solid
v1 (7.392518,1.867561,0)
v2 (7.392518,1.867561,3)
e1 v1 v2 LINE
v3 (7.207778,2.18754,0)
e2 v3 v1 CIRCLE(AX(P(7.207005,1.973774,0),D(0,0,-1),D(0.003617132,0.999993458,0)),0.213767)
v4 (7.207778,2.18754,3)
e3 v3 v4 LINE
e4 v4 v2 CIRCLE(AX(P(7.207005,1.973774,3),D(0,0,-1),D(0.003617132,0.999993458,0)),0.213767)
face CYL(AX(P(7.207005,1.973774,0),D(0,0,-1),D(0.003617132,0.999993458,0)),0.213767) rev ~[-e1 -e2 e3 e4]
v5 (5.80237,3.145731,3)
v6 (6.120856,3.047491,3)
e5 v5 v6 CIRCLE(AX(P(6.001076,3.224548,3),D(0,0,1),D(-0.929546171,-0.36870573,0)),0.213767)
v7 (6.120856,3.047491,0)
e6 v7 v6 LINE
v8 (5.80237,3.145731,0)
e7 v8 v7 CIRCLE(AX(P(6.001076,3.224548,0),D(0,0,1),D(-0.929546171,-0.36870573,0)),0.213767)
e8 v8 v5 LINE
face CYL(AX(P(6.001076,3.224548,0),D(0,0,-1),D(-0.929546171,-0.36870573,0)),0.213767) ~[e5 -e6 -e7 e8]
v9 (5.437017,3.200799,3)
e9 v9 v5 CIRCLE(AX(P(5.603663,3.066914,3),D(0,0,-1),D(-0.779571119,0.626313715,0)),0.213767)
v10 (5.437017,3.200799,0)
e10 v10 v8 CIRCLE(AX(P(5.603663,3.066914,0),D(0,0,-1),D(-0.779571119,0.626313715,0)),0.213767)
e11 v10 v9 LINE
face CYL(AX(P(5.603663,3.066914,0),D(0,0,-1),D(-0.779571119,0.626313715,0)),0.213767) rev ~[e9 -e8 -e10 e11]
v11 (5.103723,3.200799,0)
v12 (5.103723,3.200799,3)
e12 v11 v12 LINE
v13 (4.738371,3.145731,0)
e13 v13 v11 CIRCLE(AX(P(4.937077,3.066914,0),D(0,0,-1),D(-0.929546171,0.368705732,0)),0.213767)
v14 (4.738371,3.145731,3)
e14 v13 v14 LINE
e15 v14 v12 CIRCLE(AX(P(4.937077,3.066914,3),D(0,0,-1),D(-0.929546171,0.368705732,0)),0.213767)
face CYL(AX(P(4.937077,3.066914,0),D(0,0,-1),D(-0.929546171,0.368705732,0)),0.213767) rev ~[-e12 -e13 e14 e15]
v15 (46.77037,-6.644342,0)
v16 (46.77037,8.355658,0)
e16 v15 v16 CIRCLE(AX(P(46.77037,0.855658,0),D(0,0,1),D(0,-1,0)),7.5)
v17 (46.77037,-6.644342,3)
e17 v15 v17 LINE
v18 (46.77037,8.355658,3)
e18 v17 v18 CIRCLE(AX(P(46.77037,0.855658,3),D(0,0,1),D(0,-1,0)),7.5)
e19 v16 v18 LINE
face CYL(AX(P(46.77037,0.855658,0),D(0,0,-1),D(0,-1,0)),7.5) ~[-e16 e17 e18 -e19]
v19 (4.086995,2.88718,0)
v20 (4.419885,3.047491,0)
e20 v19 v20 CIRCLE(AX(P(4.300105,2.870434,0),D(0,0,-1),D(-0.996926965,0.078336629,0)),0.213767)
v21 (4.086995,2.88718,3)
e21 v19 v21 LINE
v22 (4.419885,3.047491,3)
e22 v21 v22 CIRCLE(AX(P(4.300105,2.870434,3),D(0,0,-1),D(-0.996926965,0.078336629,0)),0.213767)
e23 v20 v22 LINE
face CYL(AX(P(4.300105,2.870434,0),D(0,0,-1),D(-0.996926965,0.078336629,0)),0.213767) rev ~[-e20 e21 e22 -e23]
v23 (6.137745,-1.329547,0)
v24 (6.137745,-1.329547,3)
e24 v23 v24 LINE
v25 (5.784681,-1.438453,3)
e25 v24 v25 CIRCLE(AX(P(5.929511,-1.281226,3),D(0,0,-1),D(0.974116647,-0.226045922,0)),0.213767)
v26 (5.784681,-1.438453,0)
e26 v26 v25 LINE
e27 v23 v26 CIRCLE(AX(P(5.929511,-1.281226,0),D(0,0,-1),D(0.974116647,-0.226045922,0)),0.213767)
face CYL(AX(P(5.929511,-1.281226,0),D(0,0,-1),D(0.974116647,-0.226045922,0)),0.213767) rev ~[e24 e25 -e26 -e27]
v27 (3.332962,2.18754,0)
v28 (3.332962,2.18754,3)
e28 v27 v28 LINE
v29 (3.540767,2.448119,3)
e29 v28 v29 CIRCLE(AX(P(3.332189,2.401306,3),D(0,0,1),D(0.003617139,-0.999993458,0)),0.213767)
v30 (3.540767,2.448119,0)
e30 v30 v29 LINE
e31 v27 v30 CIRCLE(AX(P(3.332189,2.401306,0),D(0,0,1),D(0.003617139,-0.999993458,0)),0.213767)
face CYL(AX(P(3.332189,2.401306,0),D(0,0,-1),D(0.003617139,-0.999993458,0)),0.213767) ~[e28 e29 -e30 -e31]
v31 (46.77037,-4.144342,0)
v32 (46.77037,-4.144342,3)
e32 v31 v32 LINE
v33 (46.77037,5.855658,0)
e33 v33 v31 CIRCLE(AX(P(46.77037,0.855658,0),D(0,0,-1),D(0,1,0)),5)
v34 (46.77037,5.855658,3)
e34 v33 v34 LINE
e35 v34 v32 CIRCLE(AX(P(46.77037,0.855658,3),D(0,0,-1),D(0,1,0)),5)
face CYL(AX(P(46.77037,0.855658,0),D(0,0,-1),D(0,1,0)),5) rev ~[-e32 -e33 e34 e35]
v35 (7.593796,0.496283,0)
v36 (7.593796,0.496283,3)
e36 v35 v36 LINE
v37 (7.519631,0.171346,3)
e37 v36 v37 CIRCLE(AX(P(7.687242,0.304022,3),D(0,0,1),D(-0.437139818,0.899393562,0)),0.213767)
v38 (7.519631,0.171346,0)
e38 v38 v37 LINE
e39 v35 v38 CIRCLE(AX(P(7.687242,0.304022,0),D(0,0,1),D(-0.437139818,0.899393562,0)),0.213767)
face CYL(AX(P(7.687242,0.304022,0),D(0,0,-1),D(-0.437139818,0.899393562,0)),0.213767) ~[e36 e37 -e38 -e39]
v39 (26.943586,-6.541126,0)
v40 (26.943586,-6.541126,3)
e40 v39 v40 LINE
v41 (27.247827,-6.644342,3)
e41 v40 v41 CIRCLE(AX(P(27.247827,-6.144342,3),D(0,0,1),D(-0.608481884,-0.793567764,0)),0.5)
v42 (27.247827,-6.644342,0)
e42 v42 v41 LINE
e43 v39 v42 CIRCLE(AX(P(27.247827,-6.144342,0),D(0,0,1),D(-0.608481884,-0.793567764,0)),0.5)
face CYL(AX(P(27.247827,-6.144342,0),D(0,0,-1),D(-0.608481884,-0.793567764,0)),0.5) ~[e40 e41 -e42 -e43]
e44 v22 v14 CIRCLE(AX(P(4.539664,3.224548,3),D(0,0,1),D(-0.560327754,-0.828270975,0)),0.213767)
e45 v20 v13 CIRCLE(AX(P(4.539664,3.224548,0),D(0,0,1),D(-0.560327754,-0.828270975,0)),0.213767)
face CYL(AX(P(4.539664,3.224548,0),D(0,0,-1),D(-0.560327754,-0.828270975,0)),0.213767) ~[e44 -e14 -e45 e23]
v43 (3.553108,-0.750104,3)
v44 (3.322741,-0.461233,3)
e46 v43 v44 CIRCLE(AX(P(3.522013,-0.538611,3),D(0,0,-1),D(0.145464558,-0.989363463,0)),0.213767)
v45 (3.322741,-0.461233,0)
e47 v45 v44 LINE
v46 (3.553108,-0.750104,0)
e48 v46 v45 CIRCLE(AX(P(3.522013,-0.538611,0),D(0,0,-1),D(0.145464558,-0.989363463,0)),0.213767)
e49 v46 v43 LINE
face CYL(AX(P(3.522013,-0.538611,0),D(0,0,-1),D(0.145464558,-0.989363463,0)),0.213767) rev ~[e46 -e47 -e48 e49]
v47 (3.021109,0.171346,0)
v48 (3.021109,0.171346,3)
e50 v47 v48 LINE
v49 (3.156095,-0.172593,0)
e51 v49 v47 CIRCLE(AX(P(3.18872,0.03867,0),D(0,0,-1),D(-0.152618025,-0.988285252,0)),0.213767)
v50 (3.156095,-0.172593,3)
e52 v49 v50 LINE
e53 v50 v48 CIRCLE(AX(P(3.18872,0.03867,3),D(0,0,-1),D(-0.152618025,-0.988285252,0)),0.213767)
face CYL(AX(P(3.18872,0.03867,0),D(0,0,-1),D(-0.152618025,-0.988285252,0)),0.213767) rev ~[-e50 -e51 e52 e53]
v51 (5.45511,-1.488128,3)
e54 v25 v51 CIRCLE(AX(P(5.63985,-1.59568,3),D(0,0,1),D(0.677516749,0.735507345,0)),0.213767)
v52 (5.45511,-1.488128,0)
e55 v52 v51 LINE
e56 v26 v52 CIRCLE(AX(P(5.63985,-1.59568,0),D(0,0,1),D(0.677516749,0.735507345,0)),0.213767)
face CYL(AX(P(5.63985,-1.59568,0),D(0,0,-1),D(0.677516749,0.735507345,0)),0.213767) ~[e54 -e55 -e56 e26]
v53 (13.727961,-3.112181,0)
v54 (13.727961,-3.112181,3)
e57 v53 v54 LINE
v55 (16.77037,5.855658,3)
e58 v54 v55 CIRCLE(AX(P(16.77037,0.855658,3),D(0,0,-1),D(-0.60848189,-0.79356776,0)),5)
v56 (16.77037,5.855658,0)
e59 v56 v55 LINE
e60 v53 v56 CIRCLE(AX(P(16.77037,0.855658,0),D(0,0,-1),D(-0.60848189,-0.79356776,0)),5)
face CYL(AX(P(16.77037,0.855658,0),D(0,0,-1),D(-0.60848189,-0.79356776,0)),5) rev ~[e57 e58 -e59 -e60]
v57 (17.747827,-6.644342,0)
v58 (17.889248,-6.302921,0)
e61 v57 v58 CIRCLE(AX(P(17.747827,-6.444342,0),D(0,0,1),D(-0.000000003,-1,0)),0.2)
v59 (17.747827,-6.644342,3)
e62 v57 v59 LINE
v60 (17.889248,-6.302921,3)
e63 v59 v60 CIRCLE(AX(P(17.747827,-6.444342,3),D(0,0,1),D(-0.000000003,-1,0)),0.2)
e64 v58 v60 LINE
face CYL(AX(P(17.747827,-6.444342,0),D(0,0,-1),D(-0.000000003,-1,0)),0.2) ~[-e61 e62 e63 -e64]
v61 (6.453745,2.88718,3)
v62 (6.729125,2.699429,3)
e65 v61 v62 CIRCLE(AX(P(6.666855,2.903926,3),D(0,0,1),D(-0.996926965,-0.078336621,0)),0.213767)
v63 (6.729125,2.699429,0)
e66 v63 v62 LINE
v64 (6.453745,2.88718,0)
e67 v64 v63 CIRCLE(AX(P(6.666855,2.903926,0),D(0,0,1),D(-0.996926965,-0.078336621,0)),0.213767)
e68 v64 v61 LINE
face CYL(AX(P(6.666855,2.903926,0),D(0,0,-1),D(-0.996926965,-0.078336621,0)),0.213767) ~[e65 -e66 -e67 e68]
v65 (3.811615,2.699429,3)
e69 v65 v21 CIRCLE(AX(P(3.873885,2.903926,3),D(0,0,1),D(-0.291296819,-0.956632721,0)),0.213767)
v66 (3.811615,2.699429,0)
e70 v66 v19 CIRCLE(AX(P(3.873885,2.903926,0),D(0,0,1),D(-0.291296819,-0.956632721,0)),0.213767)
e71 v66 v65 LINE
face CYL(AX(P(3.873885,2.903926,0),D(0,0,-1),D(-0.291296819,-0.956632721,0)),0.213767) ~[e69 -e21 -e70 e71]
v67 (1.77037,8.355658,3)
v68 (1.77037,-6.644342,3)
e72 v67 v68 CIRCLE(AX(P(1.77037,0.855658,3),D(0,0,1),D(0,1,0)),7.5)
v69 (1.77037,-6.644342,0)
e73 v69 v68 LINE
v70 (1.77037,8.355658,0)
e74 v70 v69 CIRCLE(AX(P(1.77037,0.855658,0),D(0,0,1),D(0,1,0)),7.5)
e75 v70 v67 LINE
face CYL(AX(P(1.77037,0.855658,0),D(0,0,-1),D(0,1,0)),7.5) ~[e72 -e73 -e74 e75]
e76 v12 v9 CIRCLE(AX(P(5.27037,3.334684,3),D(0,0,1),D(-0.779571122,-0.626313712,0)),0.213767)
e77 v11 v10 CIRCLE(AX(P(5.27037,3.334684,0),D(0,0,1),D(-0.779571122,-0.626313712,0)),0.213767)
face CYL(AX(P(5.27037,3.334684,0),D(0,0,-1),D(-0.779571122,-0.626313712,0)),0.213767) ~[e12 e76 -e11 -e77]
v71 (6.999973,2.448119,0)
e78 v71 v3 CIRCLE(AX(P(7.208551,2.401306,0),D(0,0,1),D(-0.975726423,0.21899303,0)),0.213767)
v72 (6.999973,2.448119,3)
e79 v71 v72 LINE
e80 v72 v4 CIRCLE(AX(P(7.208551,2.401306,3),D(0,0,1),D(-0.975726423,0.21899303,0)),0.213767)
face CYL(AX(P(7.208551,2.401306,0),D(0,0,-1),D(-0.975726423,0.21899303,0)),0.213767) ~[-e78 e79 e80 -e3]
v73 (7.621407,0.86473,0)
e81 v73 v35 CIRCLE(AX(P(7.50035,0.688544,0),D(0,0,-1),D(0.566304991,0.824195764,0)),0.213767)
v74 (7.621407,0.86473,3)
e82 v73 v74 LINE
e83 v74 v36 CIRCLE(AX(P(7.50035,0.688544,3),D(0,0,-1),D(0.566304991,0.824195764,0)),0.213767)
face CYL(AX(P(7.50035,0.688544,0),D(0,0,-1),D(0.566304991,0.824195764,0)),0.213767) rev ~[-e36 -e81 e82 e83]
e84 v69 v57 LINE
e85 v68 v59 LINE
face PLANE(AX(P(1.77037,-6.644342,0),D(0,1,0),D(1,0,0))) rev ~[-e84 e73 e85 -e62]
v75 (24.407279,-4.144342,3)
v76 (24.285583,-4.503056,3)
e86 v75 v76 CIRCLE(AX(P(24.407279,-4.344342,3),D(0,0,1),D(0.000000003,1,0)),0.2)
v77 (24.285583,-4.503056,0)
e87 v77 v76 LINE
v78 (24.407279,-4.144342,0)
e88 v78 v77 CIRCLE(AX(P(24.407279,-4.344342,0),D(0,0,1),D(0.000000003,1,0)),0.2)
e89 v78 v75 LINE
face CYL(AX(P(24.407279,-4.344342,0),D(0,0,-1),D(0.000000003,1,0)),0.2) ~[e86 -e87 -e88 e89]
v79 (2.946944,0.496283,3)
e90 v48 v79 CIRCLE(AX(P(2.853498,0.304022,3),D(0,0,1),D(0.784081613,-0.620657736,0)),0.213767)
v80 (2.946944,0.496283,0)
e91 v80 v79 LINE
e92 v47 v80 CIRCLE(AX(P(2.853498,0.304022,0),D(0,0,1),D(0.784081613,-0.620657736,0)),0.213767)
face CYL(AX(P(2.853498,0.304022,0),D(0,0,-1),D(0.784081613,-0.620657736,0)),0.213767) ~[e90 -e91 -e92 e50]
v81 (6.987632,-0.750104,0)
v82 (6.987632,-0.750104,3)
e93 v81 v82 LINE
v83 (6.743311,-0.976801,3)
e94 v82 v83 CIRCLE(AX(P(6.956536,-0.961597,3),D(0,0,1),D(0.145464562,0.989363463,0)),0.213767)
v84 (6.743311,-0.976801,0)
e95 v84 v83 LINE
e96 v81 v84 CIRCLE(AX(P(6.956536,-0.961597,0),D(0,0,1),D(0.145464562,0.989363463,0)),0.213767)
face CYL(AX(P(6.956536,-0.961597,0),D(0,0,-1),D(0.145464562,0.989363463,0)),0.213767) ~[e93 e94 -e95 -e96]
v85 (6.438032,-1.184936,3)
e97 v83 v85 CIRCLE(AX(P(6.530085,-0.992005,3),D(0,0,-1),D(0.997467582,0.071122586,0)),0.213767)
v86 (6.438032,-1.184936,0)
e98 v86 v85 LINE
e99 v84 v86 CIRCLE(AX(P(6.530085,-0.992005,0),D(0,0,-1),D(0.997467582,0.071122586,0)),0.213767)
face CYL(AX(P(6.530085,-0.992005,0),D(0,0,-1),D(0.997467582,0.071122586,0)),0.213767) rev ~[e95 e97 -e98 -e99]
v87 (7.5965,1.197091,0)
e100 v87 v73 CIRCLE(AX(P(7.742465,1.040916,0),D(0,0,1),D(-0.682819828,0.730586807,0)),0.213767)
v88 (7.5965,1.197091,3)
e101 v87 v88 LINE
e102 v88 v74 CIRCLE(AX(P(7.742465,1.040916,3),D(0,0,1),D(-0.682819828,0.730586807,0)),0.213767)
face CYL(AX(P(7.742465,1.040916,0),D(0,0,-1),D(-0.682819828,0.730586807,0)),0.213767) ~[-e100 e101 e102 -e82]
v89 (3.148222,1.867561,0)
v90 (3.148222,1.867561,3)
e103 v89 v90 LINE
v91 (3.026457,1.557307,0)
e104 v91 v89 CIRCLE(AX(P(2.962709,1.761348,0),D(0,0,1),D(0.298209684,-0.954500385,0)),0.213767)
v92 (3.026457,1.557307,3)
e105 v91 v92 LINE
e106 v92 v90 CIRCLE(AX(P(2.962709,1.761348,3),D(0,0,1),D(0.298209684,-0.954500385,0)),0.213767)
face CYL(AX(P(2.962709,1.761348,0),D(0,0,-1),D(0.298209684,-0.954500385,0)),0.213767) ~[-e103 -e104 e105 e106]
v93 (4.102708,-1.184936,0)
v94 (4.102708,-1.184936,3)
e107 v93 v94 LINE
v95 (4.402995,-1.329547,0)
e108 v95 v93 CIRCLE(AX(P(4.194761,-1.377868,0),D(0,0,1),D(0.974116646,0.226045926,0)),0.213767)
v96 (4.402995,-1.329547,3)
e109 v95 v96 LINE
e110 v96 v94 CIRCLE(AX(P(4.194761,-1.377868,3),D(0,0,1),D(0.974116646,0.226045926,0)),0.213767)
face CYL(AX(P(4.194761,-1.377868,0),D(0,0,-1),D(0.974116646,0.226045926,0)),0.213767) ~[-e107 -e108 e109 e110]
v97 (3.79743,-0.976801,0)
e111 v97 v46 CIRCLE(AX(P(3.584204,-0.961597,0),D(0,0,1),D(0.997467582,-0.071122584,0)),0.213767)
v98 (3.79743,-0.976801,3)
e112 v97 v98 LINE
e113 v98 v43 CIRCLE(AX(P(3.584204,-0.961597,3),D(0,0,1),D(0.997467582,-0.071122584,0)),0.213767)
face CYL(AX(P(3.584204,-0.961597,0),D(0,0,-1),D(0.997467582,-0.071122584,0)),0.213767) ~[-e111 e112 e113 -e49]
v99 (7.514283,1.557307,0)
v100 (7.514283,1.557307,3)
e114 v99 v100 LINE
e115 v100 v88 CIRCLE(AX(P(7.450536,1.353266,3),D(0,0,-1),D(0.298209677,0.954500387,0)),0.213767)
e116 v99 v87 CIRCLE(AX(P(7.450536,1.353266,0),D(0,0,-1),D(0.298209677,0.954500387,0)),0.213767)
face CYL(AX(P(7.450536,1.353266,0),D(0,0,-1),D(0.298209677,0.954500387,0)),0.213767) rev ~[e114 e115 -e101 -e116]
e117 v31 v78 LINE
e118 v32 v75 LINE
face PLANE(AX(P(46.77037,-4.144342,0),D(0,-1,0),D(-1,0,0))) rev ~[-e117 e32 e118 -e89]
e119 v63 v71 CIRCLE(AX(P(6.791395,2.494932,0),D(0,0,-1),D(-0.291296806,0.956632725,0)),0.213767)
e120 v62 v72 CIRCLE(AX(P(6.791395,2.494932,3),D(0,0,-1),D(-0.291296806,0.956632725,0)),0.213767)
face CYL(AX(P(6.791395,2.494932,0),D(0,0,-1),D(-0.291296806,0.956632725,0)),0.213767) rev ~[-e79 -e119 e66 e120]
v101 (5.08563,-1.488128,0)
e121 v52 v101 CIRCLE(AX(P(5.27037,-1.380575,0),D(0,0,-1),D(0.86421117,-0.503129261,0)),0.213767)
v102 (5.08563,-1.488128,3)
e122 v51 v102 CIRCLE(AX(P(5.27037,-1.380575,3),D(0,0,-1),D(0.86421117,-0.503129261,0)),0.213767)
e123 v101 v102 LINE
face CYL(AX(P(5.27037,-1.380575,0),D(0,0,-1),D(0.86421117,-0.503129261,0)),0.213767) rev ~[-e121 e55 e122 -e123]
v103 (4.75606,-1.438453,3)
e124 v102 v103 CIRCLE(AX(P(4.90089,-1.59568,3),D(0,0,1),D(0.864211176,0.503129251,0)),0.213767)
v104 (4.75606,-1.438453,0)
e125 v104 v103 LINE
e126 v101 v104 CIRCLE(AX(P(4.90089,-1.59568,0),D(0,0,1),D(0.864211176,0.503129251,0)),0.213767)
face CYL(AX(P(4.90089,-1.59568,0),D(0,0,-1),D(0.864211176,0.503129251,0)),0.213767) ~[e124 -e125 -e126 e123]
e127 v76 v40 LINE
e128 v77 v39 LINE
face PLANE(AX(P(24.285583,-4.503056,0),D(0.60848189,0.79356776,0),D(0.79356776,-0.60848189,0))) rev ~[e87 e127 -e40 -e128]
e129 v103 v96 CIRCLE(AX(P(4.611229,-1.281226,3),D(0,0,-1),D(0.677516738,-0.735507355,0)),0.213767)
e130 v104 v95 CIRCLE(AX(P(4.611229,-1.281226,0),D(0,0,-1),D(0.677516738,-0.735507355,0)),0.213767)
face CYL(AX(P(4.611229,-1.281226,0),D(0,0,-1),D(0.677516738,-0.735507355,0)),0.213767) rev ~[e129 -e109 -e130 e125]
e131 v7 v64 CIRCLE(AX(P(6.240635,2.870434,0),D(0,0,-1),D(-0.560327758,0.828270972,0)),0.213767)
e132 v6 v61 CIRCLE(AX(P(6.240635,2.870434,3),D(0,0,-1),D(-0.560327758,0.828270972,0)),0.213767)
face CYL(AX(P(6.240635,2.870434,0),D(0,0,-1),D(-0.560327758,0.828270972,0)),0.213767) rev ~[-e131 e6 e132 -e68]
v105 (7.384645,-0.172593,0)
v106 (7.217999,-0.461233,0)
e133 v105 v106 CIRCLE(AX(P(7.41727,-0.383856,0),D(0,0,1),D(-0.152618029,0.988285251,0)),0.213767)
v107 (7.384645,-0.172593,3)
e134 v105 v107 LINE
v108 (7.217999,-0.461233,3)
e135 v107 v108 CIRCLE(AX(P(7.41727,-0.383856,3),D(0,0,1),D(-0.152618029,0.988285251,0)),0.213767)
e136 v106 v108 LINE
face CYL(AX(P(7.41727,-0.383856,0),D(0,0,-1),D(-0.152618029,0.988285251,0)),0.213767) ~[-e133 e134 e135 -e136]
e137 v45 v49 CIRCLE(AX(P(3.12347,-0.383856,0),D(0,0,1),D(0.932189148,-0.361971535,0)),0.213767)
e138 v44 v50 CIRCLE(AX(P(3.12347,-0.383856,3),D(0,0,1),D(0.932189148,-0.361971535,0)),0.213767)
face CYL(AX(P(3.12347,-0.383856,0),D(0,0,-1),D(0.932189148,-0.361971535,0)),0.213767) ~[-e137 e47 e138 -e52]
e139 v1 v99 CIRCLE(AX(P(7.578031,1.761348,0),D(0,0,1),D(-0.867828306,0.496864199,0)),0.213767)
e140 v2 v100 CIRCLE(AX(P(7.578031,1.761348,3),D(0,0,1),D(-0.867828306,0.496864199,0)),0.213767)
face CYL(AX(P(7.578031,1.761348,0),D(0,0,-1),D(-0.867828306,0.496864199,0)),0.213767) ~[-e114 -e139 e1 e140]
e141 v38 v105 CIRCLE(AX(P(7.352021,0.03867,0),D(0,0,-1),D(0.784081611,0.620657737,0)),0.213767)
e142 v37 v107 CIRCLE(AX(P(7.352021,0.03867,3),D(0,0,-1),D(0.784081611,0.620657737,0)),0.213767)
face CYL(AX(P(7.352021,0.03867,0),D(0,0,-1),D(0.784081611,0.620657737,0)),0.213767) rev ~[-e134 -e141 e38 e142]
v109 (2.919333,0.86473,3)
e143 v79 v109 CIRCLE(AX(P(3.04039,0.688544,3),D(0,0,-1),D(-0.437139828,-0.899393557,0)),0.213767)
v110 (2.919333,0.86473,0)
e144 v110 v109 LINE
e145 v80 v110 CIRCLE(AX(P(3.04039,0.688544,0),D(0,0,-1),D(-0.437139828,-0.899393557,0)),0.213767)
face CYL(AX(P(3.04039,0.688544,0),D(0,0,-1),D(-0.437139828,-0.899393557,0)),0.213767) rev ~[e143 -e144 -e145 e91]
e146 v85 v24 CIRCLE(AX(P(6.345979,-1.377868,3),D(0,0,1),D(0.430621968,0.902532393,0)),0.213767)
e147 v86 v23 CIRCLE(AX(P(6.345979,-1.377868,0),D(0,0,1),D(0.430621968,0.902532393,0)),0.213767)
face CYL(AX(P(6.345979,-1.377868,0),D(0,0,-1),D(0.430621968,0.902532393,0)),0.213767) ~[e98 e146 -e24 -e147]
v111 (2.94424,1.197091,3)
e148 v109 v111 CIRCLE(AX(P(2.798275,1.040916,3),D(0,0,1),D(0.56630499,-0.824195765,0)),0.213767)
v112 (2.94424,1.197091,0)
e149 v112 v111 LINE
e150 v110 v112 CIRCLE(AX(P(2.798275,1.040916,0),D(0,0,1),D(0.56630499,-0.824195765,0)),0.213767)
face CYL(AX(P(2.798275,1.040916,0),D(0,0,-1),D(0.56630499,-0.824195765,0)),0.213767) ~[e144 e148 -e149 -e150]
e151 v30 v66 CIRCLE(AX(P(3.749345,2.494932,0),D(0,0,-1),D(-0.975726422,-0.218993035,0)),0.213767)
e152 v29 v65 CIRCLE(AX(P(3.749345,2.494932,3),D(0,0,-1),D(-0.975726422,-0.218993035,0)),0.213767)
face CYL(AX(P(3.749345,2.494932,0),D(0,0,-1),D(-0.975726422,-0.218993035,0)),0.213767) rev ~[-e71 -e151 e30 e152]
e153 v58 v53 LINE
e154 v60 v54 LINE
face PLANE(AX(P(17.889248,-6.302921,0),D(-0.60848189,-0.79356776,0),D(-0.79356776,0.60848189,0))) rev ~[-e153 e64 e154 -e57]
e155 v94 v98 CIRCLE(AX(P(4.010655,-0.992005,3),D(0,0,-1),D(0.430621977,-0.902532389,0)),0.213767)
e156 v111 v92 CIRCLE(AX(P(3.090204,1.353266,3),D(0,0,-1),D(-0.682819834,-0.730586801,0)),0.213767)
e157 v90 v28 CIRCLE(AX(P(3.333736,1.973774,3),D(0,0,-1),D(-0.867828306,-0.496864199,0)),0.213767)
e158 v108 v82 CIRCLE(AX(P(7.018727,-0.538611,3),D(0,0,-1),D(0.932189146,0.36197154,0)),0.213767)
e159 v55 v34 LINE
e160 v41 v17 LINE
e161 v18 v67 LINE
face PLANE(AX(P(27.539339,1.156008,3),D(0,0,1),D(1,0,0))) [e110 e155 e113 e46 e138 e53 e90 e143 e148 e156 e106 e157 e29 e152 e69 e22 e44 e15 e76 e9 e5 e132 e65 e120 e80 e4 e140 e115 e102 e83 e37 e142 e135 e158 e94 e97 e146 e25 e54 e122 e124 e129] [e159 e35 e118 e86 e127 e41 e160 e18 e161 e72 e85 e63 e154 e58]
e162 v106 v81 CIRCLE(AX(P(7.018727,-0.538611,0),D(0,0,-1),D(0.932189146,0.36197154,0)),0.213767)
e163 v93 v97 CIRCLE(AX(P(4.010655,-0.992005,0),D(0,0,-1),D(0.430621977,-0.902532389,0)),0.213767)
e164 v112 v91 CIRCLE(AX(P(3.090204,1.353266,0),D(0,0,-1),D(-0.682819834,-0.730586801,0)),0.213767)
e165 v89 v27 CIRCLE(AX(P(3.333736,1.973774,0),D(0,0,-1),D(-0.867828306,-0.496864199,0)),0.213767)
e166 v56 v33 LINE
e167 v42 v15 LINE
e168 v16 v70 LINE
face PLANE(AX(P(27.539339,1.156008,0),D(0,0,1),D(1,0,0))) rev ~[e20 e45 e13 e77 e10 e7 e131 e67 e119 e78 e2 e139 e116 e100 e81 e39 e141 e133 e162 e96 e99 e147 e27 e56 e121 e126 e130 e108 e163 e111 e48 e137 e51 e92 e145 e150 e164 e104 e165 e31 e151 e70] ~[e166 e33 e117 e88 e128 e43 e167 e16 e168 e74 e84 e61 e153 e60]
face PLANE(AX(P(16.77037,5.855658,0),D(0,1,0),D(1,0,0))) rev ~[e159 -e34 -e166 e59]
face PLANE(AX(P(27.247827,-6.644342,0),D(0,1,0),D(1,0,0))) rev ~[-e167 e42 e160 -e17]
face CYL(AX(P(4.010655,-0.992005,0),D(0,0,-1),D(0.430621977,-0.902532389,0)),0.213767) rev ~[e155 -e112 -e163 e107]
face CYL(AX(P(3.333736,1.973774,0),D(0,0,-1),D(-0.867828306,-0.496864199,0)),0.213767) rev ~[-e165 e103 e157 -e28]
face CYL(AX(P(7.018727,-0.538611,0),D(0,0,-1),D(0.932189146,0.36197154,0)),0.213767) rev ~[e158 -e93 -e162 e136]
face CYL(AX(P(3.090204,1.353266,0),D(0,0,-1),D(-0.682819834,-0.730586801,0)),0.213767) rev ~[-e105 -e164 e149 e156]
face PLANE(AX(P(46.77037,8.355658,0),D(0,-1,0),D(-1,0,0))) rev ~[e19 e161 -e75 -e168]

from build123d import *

# Parameters (mm, degrees)
BOSS_EXTRUDE1_DEPTH = 3


with BuildPart() as part:
    # Sketch2 → Boss-Extrude1 (new body)
    with BuildSketch(Plane.XY):
        with BuildLine():
            ThreePointArc((13.72796065, -3.112181063), (12.035436414, 2.462021021), (16.770370099, 5.855657737))
            Line((16.770370099, 5.855657737), (46.770370099, 5.855657737))
            ThreePointArc((46.770370099, 5.855657737), (51.770370099, 0.855657737), (46.770370099, -4.144342263))
            Line((46.770370099, -4.144342263), (24.407279181, -4.144342263))
            ThreePointArc((24.407279181, -4.144342263), (24.217881833, -4.280087732), (24.285582803, -4.503055815))
            Line((24.285582803, -4.503055815), (26.943586158, -6.541126143))
            ThreePointArc((26.943586158, -6.541126143), (27.087190775, -6.617835631), (27.247827103, -6.644342263))
            Line((27.247827103, -6.644342263), (46.770370099, -6.644342263))
            ThreePointArc((46.770370099, -6.644342263), (54.270370099, 0.855657737), (46.770370099, 8.355657737))
            Line((46.770370099, 8.355657737), (1.770370099, 8.355657737))
            ThreePointArc((1.770370099, 8.355657737), (-5.729629901, 0.855657737), (1.770370099, -6.644342263))
            Line((1.770370099, -6.644342263), (17.747827103, -6.644342263))
            ThreePointArc((17.747827103, -6.644342263), (17.93260301, -6.520878949), (17.889248459, -6.302920907))
            Line((17.889248459, -6.302920907), (13.72796065, -3.112181063))
        make_face()
        with BuildLine():
            ThreePointArc((5.103723485, 3.20079905), (5.270370099, 3.120917237), (5.437016713, 3.20079905))
            ThreePointArc((5.437016713, 3.20079905), (5.635523651, 3.278293261), (5.802369663, 3.145730953))
            ThreePointArc((5.802369663, 3.145730953), (5.938067058, 3.020278113), (6.120855608, 3.047491049))
            ThreePointArc((6.120855608, 3.047491049), (6.33338526, 3.063031463), (6.453745345, 2.887179801))
            ThreePointArc((6.453745345, 2.887179801), (6.546436212, 2.727302969), (6.729125133, 2.699429041))
            ThreePointArc((6.729125133, 2.699429041), (6.936793306, 2.651634823), (6.999972944, 2.448118998))
            ThreePointArc((6.999972944, 2.448118998), (7.041421292, 2.268023934), (7.207777872, 2.18753986))
            ThreePointArc((7.207777872, 2.18753986), (7.392132338, 2.080657737), (7.392517739, 1.867561025))
            ThreePointArc((7.392517739, 1.867561025), (7.379040701, 1.683249963), (7.514283428, 1.557307108))
            ThreePointArc((7.514283428, 1.557307108), (7.658943484, 1.400834025), (7.596500404, 1.197091003))
            ThreePointArc((7.596500404, 1.197091003), (7.529295473, 1.024940791), (7.621407438, 0.864729731))
            ThreePointArc((7.621407438, 0.864729731), (7.713519402, 0.672569008), (7.593796183, 0.496283137))
            ThreePointArc((7.593796183, 0.496283137), (7.478834813, 0.351590078), (7.519631462, 0.171346267))
            ThreePointArc((7.519631462, 0.171346267), (7.551010783, -0.039427773), (7.384645358, -0.172592718))
            ThreePointArc((7.384645358, -0.172592718), (7.232142372, -0.276972013), (7.217998744, -0.46123312))
            ThreePointArc((7.217998744, -0.46123312), (7.185857231, -0.671892277), (6.987631898, -0.750104008))
            ThreePointArc((6.987631898, -0.750104008), (6.811137854, -0.804894979), (6.743310674, -0.976800975))
            ThreePointArc((6.743310674, -0.976800975), (6.650504241, -1.16862726), (6.438032191, -1.18493632))
            ThreePointArc((6.438032191, -1.18493632), (6.253229361, -1.18527055), (6.137745369, -1.329546832))
            ThreePointArc((6.137745369, -1.329546832), (5.992520276, -1.485495637), (5.784680583, -1.438452896))
            ThreePointArc((5.784680583, -1.438452896), (5.607989508, -1.384300685), (5.455109966, -1.488127674))
            ThreePointArc((5.455109966, -1.488127674), (5.270370099, -1.594342263), (5.085630232, -1.488127674))
            ThreePointArc((5.085630232, -1.488127674), (4.93275069, -1.384300685), (4.756059614, -1.438452896))
            ThreePointArc((4.756059614, -1.438452896), (4.548219922, -1.485495637), (4.402994828, -1.329546832))
            ThreePointArc((4.402994828, -1.329546832), (4.287510837, -1.18527055), (4.102708006, -1.18493632))
            ThreePointArc((4.102708006, -1.18493632), (3.890235957, -1.16862726), (3.797429524, -0.976800975))
            ThreePointArc((3.797429524, -0.976800975), (3.729602343, -0.804894979), (3.5531083, -0.750104008))
            ThreePointArc((3.5531083, -0.750104008), (3.354882967, -0.671892277), (3.322741454, -0.46123312))
            ThreePointArc((3.322741454, -0.46123312), (3.308597826, -0.276972013), (3.15609484, -0.172592718))
            ThreePointArc((3.15609484, -0.172592718), (2.989729415, -0.039427773), (3.021108735, 0.171346267))
            ThreePointArc((3.021108735, 0.171346267), (3.061905384, 0.351590078), (2.946944015, 0.496283137))
            ThreePointArc((2.946944015, 0.496283137), (2.827220796, 0.672569008), (2.91933276, 0.864729731))
            ThreePointArc((2.91933276, 0.864729731), (3.011444724, 1.024940791), (2.944239794, 1.197091003))
            ThreePointArc((2.944239794, 1.197091003), (2.881796714, 1.400834025), (3.02645677, 1.557307108))
            ThreePointArc((3.02645677, 1.557307108), (3.161699497, 1.683249963), (3.148222459, 1.867561025))
            ThreePointArc((3.148222459, 1.867561025), (3.14860786, 2.080657737), (3.332962326, 2.18753986))
            ThreePointArc((3.332962326, 2.18753986), (3.499318906, 2.268023934), (3.540767254, 2.448118998))
            ThreePointArc((3.540767254, 2.448118998), (3.603946891, 2.651634823), (3.811615065, 2.699429041))
            ThreePointArc((3.811615065, 2.699429041), (3.994303986, 2.727302969), (4.086994852, 2.887179801))
            ThreePointArc((4.086994852, 2.887179801), (4.207354938, 3.063031463), (4.41988459, 3.047491049))
            ThreePointArc((4.41988459, 3.047491049), (4.60267314, 3.020278113), (4.738370535, 3.145730953))
            ThreePointArc((4.738370535, 3.145730953), (4.905216547, 3.278293261), (5.103723485, 3.20079905))
        make_face(mode=Mode.SUBTRACT)
    extrude(amount=BOSS_EXTRUDE1_DEPTH)


solid = part.part
